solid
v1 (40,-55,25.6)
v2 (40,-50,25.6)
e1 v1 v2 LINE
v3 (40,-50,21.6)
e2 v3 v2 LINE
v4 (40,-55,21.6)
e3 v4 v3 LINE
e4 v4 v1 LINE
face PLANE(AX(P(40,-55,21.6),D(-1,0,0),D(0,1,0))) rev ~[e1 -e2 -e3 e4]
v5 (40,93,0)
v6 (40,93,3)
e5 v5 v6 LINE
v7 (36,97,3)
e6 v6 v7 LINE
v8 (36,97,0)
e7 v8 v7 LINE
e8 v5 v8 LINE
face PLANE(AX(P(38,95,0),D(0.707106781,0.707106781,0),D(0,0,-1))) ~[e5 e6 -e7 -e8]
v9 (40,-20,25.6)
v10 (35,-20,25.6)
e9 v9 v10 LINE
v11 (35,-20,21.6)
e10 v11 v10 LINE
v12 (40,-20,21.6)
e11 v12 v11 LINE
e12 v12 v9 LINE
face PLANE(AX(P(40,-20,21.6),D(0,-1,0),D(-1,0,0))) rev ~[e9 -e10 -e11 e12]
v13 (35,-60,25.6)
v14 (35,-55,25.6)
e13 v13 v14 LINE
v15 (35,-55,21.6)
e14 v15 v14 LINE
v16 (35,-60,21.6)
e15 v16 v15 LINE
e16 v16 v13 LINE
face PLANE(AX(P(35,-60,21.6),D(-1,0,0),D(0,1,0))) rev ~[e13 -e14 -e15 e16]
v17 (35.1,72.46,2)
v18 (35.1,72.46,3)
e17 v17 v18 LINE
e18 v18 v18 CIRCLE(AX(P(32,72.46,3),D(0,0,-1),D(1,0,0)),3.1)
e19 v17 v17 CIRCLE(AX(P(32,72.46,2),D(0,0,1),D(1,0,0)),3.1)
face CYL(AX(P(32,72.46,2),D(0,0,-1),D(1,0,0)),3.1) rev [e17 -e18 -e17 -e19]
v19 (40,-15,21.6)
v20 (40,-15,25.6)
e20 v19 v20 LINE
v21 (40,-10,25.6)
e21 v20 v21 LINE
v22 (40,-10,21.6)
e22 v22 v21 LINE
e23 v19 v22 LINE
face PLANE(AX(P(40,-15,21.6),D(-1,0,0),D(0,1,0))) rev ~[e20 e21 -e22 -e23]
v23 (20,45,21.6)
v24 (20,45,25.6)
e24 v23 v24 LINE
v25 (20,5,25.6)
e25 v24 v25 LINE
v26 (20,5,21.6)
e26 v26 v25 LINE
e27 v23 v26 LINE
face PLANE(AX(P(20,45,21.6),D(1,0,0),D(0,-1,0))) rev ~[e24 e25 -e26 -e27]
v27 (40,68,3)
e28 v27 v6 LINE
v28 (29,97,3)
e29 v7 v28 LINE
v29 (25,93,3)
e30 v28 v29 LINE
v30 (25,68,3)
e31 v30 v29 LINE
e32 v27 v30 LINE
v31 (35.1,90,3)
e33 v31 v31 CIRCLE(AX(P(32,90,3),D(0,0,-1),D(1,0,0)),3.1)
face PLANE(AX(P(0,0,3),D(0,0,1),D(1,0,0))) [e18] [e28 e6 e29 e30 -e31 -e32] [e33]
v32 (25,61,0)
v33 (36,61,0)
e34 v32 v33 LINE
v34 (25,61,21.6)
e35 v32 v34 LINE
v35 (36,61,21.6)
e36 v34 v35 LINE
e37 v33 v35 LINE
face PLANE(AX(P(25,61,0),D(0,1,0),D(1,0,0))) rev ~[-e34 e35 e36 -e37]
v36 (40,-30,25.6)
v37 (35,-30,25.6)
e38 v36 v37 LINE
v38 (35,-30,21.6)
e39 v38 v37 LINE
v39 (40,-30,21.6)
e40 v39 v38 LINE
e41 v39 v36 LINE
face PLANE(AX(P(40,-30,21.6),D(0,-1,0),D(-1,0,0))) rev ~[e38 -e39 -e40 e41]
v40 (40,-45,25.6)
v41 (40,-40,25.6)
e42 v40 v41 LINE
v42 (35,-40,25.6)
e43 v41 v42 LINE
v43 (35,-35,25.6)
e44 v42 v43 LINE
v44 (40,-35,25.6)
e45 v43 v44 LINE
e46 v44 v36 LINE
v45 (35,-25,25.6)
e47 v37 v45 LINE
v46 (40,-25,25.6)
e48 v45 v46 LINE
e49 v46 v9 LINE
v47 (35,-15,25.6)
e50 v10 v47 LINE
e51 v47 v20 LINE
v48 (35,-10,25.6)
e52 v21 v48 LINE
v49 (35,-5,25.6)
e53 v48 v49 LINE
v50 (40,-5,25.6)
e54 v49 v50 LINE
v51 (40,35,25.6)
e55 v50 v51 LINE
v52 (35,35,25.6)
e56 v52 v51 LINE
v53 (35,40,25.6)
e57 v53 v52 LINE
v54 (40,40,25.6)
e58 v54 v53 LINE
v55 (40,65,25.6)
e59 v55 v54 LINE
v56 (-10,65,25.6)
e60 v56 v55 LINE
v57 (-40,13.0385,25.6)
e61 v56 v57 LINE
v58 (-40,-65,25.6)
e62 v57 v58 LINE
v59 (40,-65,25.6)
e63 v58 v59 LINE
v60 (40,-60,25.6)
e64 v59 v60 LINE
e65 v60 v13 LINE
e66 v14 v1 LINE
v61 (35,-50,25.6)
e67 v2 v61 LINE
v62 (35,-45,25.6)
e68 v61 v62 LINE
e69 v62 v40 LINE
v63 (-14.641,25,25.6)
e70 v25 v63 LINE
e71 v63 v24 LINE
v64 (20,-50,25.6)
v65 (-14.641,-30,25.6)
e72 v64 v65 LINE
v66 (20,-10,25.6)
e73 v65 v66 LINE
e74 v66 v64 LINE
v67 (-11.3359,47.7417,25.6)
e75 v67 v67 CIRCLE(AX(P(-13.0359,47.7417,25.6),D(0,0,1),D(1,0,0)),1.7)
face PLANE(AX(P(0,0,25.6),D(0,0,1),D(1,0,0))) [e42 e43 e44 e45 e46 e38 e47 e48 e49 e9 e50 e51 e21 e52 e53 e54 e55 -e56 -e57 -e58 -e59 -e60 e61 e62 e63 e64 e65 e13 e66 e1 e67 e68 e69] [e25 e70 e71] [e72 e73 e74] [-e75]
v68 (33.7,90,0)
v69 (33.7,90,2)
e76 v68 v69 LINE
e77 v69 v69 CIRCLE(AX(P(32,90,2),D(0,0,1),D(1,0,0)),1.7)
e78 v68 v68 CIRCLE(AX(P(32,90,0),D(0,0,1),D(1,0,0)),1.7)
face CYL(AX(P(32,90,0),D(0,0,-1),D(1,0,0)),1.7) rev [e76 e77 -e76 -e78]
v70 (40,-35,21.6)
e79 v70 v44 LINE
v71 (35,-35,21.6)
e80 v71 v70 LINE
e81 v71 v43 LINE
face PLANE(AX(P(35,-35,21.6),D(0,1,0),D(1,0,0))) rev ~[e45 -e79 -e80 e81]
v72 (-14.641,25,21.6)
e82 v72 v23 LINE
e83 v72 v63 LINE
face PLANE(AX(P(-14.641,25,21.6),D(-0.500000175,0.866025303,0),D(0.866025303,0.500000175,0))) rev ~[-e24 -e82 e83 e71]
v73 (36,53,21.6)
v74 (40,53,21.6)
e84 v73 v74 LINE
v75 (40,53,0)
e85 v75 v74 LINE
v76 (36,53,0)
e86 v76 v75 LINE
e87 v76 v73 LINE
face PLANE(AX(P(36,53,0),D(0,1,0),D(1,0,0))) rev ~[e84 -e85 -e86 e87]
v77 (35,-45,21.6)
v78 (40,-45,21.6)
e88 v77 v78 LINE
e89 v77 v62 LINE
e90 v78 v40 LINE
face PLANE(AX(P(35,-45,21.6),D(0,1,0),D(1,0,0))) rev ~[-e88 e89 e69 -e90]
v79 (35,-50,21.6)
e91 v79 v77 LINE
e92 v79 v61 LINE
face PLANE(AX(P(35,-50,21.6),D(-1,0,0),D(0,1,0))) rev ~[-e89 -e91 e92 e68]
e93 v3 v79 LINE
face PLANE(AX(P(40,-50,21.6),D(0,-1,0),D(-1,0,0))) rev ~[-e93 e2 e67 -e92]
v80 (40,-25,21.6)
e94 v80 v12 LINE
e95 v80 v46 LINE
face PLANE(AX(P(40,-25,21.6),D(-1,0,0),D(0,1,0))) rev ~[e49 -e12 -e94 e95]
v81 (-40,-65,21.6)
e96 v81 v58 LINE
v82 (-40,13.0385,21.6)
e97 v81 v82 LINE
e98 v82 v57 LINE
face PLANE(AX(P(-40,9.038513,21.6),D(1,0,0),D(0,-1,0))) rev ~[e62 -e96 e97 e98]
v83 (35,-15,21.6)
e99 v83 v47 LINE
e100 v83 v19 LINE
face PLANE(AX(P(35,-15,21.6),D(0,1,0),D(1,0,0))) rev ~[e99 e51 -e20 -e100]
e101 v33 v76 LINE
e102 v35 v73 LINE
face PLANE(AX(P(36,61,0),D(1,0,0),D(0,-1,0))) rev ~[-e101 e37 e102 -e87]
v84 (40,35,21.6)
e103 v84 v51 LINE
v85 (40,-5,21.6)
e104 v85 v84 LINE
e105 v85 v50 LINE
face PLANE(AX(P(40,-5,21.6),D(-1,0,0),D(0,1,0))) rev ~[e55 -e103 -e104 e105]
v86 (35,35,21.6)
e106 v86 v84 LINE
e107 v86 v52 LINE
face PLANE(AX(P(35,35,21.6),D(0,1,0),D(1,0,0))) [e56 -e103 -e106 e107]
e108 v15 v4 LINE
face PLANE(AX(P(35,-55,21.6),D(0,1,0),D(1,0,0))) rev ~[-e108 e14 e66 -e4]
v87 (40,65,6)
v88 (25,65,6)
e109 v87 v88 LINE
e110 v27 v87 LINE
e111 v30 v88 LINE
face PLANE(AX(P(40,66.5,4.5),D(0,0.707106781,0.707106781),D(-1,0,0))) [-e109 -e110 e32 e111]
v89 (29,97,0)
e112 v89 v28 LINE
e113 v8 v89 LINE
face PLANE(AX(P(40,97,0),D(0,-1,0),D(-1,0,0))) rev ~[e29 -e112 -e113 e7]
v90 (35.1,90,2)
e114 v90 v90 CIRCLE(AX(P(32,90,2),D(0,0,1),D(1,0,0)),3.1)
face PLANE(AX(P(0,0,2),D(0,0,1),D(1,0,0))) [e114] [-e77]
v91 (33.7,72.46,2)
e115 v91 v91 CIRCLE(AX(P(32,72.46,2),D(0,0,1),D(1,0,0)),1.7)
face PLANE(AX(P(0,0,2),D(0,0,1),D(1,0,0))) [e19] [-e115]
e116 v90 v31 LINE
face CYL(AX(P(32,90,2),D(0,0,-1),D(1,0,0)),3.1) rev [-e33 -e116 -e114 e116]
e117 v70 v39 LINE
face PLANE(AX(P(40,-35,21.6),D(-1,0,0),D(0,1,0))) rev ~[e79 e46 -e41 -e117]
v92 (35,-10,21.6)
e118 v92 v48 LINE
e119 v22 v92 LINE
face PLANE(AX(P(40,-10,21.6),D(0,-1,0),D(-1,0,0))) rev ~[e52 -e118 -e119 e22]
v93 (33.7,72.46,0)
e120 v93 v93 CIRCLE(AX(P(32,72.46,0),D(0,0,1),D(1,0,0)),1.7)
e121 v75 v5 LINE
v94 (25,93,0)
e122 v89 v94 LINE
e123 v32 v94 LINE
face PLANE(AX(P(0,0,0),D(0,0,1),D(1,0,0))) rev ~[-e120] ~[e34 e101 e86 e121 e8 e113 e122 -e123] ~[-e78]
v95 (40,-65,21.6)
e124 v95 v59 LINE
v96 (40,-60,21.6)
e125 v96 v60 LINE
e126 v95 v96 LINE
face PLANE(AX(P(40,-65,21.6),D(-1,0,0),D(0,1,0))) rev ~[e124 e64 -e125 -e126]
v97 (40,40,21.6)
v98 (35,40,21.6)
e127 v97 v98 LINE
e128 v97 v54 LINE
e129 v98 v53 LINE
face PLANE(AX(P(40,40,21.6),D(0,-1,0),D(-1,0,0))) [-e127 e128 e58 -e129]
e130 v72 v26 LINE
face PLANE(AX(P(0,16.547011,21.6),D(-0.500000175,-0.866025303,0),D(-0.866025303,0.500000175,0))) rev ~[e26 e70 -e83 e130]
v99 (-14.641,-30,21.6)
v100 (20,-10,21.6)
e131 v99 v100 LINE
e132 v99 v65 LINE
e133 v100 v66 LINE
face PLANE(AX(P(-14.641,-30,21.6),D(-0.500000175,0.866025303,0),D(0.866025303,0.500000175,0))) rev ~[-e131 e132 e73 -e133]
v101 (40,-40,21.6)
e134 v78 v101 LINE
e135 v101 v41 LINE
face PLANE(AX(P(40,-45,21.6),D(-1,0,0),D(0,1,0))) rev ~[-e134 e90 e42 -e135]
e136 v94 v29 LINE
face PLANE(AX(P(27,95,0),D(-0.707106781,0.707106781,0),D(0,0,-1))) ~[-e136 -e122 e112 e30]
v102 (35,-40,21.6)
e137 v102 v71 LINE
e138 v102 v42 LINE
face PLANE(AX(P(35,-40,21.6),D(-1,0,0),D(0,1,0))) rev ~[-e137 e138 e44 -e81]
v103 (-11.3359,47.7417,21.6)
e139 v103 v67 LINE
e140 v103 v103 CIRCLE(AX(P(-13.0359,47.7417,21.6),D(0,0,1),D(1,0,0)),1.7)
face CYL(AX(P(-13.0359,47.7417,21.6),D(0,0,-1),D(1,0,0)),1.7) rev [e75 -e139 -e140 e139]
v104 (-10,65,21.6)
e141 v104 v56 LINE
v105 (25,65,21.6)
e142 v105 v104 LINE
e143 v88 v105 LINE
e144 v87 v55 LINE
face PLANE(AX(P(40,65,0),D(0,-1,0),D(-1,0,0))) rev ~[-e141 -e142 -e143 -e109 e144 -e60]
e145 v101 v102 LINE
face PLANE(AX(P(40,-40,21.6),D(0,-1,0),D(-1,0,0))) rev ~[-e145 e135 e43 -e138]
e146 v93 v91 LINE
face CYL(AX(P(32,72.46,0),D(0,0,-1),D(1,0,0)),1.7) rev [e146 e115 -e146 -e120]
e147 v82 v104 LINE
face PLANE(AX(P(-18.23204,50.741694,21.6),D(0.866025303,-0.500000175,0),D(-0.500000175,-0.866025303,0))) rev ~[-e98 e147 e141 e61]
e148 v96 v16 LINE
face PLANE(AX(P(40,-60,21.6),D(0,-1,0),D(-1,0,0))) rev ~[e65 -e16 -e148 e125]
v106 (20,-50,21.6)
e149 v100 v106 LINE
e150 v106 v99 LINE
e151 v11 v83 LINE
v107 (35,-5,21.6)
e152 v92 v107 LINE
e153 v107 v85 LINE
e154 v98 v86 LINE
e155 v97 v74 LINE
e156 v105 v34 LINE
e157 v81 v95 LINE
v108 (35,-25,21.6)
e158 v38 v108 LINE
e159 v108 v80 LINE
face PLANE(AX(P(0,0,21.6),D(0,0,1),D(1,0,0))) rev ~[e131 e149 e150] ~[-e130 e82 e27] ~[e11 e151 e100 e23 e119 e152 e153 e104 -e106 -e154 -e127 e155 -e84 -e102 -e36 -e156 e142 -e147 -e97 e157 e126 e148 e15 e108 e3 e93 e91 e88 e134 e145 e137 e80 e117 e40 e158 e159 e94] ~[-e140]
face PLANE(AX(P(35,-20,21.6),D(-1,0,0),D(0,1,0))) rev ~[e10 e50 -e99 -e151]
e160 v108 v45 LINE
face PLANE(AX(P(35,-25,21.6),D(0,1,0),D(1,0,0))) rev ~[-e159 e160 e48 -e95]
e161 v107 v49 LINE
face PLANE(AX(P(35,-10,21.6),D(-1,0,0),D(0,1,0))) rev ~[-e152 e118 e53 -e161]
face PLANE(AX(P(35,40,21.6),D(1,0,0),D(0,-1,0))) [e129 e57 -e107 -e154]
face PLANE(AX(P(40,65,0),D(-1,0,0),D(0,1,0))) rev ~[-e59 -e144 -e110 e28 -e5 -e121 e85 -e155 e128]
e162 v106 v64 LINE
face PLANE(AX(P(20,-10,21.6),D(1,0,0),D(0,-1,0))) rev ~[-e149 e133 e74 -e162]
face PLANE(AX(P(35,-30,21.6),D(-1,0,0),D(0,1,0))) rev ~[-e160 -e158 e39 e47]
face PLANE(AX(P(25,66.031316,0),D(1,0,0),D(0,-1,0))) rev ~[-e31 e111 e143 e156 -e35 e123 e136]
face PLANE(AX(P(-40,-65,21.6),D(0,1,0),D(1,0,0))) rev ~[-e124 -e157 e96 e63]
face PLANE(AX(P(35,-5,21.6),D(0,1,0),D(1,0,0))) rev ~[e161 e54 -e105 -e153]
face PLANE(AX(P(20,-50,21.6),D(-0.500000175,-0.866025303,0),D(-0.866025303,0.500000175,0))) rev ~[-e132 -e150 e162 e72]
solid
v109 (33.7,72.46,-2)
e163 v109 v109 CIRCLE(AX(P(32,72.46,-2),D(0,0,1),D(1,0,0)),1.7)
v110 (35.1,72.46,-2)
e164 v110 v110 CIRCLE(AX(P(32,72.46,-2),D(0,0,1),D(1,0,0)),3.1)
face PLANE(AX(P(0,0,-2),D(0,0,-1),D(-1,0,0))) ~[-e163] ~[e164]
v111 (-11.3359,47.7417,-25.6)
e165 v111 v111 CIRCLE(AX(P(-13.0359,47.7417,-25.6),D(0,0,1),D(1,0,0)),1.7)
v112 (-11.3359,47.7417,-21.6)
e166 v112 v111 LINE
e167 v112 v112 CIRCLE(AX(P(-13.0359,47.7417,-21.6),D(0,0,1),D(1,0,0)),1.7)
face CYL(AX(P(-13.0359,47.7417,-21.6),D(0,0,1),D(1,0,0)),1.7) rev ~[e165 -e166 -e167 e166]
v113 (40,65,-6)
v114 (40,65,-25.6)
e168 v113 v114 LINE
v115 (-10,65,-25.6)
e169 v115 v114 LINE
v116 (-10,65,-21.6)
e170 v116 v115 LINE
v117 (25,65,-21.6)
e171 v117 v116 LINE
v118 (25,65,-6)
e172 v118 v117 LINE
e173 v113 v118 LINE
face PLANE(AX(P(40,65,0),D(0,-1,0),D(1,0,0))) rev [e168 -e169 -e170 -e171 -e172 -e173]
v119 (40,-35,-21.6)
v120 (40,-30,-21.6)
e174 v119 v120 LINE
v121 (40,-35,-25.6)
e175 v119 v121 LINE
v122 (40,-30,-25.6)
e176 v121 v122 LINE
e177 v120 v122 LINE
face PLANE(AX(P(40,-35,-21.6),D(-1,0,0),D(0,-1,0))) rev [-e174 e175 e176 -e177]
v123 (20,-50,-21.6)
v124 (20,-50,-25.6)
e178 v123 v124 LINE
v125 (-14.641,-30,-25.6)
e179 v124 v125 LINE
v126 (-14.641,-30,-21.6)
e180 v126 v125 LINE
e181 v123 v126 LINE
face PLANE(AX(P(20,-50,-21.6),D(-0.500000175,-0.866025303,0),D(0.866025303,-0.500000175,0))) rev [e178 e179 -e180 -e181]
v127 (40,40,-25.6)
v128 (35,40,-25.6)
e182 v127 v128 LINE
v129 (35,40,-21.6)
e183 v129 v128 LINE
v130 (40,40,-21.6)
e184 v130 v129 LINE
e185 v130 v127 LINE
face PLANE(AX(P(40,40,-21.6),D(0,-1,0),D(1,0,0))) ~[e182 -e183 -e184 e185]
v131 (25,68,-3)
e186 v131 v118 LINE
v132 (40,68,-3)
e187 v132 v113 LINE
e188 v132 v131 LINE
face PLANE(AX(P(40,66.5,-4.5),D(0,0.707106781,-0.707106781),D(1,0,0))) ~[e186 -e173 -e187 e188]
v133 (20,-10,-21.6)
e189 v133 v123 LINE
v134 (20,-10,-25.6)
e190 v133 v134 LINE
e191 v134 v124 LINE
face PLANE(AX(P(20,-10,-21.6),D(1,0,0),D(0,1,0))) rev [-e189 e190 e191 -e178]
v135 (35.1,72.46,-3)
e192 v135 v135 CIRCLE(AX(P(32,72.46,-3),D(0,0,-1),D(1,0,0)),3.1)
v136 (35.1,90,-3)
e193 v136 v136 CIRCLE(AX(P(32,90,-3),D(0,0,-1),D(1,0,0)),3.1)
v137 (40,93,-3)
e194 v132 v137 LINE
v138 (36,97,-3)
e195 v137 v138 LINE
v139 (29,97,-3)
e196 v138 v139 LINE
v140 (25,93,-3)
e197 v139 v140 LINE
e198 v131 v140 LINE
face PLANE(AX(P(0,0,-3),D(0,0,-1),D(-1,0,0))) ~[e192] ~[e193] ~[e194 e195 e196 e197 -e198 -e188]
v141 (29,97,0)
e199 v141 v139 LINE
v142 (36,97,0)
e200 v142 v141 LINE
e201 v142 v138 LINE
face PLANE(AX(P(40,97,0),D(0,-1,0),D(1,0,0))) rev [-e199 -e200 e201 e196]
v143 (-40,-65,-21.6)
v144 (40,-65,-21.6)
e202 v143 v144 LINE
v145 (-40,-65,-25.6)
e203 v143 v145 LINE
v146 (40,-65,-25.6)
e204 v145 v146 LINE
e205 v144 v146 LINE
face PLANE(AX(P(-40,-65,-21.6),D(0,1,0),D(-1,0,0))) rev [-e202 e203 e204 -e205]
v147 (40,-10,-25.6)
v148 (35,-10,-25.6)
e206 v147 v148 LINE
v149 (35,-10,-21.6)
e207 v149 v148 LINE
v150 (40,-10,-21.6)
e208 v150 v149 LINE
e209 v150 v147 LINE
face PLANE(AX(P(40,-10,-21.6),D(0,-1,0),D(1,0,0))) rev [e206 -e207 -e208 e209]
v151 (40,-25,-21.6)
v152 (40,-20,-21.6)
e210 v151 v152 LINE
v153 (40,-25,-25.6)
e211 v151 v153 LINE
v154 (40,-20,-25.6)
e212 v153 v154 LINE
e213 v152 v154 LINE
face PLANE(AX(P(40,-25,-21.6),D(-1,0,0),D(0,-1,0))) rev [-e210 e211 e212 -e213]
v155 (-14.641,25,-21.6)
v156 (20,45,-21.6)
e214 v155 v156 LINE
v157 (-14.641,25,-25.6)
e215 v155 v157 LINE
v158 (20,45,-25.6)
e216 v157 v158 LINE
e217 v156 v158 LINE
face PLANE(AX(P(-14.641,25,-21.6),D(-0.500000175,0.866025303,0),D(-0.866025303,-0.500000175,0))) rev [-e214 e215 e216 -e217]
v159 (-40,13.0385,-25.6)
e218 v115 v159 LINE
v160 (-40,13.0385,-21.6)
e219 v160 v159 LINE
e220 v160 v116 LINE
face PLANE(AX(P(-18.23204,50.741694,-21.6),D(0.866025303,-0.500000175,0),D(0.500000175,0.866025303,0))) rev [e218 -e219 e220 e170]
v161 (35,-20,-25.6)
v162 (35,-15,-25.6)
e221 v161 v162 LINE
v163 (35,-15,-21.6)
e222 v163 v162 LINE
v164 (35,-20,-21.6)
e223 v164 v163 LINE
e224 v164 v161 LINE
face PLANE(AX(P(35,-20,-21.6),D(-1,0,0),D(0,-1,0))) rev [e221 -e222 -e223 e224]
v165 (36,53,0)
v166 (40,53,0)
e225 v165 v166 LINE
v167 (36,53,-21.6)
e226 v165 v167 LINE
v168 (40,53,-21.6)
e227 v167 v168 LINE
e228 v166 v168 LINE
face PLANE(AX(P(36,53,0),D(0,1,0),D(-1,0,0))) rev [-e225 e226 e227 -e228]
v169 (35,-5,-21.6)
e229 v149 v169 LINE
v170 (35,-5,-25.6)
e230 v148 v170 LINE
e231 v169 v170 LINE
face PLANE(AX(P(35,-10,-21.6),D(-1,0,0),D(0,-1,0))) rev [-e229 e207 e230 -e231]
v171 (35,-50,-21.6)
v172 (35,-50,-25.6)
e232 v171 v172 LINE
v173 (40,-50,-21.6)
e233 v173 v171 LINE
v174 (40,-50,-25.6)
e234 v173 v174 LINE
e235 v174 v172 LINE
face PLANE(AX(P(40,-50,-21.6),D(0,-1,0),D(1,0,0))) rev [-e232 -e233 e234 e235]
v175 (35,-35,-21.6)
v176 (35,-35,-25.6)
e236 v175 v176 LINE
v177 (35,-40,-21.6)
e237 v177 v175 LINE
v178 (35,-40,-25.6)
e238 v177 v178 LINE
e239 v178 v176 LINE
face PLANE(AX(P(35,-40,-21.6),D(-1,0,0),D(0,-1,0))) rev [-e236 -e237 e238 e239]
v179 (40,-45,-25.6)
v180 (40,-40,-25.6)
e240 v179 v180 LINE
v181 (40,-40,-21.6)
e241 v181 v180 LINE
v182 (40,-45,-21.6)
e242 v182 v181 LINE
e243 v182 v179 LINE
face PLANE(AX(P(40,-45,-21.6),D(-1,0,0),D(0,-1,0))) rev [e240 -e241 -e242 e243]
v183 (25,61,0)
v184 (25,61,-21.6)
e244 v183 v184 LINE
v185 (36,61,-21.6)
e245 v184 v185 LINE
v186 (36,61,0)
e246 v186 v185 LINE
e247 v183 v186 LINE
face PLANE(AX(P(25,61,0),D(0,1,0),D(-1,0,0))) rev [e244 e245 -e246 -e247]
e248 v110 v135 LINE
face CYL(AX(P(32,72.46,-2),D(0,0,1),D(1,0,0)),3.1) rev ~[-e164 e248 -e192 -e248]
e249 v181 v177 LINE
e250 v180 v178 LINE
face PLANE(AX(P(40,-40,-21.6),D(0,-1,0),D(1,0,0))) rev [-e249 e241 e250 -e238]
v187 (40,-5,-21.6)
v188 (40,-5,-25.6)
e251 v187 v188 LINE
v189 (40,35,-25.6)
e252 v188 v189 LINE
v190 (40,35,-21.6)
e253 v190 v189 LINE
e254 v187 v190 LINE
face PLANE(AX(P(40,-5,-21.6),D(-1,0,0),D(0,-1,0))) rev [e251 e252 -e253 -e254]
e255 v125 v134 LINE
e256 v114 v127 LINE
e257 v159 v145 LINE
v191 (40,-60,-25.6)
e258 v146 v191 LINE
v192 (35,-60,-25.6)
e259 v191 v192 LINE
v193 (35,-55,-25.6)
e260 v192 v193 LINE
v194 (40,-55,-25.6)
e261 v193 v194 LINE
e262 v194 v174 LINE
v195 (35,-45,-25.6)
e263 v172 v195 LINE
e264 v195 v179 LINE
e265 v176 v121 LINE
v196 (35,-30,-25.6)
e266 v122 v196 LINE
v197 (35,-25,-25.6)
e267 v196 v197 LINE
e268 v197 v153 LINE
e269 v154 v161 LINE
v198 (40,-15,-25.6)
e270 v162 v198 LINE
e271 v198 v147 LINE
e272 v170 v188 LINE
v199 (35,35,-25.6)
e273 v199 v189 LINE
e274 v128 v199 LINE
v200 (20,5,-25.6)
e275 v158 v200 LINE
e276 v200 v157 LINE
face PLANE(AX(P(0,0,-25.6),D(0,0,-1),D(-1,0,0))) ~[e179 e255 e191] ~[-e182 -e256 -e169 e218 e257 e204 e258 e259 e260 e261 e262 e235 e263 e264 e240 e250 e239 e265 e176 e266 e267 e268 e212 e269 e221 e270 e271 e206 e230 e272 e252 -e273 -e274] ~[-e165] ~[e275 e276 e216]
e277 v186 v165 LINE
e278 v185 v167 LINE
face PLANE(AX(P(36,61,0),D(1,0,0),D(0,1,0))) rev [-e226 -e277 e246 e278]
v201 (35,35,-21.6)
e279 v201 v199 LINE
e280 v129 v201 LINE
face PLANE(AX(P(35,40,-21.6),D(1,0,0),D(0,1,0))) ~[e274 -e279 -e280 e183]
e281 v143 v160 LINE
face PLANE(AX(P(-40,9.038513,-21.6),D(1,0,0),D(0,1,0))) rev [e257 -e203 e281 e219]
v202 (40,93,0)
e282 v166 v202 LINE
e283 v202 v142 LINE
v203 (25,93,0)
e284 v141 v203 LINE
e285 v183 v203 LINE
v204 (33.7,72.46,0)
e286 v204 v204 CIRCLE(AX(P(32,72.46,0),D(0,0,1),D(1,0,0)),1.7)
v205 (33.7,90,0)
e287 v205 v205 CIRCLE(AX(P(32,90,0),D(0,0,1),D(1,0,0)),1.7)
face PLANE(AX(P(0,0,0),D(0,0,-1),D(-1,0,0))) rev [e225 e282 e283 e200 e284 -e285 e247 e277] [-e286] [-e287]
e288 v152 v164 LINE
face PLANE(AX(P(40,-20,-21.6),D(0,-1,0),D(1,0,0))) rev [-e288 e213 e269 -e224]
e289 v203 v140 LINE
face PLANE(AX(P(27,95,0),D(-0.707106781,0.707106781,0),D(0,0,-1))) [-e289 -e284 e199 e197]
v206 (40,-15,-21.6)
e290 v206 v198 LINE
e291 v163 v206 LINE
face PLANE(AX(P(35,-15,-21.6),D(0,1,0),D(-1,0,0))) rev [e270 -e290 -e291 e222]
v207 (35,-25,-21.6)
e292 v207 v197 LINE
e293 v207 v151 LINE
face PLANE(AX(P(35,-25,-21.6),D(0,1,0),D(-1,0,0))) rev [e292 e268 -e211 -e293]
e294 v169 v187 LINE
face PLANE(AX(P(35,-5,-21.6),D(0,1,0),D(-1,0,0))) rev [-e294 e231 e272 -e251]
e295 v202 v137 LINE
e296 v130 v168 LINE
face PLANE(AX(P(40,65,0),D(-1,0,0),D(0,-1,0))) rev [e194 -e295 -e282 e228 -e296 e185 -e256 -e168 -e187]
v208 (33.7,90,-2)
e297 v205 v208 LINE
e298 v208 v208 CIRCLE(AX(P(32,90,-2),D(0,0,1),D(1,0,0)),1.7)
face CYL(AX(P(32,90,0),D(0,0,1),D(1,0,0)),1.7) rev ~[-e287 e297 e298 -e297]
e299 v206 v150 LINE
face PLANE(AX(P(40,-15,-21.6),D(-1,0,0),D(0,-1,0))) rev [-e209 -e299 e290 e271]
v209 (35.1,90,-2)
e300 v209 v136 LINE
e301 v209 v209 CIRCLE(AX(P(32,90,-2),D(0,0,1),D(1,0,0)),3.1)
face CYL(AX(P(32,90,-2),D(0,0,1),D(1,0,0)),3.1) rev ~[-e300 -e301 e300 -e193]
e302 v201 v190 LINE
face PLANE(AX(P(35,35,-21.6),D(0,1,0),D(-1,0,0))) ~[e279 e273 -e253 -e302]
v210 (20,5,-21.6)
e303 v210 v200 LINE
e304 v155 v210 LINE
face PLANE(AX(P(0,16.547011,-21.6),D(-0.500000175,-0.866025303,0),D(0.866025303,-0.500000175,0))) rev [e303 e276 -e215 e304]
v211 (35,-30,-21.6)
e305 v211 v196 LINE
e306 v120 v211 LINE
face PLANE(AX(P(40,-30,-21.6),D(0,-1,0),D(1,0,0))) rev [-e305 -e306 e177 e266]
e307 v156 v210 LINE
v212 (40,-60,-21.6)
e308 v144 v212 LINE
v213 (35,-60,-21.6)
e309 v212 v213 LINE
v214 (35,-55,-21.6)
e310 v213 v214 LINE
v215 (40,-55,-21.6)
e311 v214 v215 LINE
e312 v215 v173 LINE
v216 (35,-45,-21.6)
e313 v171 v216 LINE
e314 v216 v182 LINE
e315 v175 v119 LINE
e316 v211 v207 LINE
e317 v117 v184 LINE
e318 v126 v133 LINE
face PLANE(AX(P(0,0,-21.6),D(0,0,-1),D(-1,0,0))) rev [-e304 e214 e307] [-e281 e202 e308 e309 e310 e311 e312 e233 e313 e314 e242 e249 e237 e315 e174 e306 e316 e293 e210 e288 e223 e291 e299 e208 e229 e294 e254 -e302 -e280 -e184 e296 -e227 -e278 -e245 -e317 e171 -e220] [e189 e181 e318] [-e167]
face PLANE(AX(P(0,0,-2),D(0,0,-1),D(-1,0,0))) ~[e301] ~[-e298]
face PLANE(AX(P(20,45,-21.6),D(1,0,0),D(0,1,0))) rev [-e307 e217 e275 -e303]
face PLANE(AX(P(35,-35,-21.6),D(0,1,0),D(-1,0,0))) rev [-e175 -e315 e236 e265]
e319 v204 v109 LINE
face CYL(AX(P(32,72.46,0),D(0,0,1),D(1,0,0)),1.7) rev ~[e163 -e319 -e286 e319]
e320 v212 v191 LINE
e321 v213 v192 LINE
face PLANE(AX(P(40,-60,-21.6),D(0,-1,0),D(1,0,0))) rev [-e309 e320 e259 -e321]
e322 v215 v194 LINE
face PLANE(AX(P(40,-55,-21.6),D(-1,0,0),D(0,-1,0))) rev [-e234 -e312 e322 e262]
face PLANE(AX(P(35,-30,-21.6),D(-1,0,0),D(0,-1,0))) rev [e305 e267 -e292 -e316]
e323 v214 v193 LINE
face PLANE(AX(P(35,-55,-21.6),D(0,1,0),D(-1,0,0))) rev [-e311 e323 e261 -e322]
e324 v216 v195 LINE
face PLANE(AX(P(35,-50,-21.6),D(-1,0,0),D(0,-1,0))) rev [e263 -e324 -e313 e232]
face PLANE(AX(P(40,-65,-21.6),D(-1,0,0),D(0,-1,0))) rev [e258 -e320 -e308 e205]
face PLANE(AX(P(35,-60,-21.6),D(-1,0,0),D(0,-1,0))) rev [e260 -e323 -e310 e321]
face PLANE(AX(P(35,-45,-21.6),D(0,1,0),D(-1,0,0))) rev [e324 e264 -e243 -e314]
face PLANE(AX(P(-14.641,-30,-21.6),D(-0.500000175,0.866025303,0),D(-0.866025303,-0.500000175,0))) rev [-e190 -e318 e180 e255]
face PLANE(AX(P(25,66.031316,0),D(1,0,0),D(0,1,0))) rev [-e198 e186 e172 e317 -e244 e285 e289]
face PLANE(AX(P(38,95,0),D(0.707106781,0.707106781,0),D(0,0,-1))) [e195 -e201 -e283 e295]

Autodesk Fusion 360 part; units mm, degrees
sketch "Sketch1" plane through (0, 0, 0) normal (0, 0, 1) x (1, 0, 0)
  line L0 (40, 65) -> (-40, 65)
  line L1 (-40, 65) -> (-40, -65)
  line L2 (-40, -65) -> (40, -65)
  line L3 (40, -65) -> (40, 65)
  line L4 (40, 65) -> (-40, -65) construction
  line L5 (-40, 65) -> (40, -65) construction
  circle A0 centre (-13.0359, 47.7417) radius 1.7
  line L6 (-16.5, 49.7417) -> (4, 85.2487)
  line L7 (4, 85.2487) -> (0.5359, 87.2487)
  line L8 (0.5359, 87.2487) -> (-19.9641, 51.7417)
  line L9 (-19.9641, 51.7417) -> (-16.5, 49.7417)
  line L10 (-19.9641, 51.7417) -> (-69.4641, -33.9948)
  line L11 (-16.5, 49.7417) -> (-66, -35.9948)
  line L12 (-66, -35.9948) -> (-69.4641, -33.9948)
  circle A1 centre (12, 81.23) radius 20
  circle A2 centre (12, 81.23) radius 8
  line L13 (4, 85.2487) -> (4, 65)
  line L14 (-40, 61) -> (40, 61)
  circle A3 centre (32, 90) radius 1.7
  circle A4 centre (32, 72.46) radius 1.7
  line L15 (40, 65) -> (40, 97)
  line L16 (40, 97) -> (25, 97)
  line L17 (25, 97) -> (25, 65)
  circle A5 centre (32, 90) radius 3.1
  circle A6 centre (32, 72.46) radius 3.1
  line L18 (0, 2.5) -> (0, 20)
  line L19 (-10, 65) -> (-40, 13.0385)
  line L20 (20, -10) -> (20, -50)
  line L21 (20, -50) -> (-14.641, -30)
  line L22 (-14.641, -30) -> (20, -10)
  line L23 (-14.641, 25) -> (20, 45)
  line L24 (20, 5) -> (-14.641, 25)
  line L25 (20, 45) -> (20, 5)
  line L26 (25, 65) -> (25, 61)
  line L27 (40, 61) -> (36, 61)
  line L28 (36, 61) -> (36, 53)
  line L29 (36, 53) -> (40, 53)
  line L30 (40, 53) -> (40, 61)
  line L31 (40, 40) -> (35, 40)
  line L32 (35, 40) -> (35, 35)
  line L33 (35, 35) -> (40, 35)
  line L34 (40, 35) -> (40, 40)
  line L35 (35, -55) -> (40, -55)
  line L36 (40, -55) -> (40, -60)
  line L37 (40, -60) -> (35, -60)
  line L38 (35, -60) -> (35, -55)
  line L39 (35, -45) -> (40, -45)
  line L40 (35, -50) -> (35, -45)
  line L41 (40, -50) -> (35, -50)
  line L42 (35, -35) -> (40, -35)
  line L43 (35, -40) -> (35, -35)
  line L44 (40, -40) -> (35, -40)
  line L45 (35, -25) -> (40, -25)
  line L46 (35, -30) -> (35, -25)
  line L47 (40, -30) -> (35, -30)
  line L48 (35, -15) -> (40, -15)
  line L49 (35, -20) -> (35, -15)
  line L50 (40, -20) -> (35, -20)
  line L51 (35, -5) -> (40, -5)
  line L52 (35, -10) -> (35, -5)
  line L53 (40, -10) -> (35, -10)
  dimension "d1" = 80
  dimension "d2" = 130
  dimension "d5" = 3.4
  dimension "d8" = 41
  dimension "d9" = 4
  dimension "d10" = 4
  dimension "d13" = 99
  dimension "d14" = 40
  dimension "d15" = 16
  dimension "d17" = 8
  dimension "d18" = 4
  dimension "d19" = 3.4
  dimension "d20" = 3.4
  dimension "d21" = 17.54
  dimension "d22" = 8.77
  dimension "d23" = 20
  dimension "d24" = 8
  dimension "d25" = 15
  dimension "d26" = 32
  dimension "d29" = 6.2
  dimension "d30" = 6.2
  dimension "d42" = 30
  dimension "d43" = 40
  dimension "d44" = 2
  dimension "d45" = 30
  dimension "d54" = 60
  dimension "d55" = 60
  dimension "d56" = 40
  dimension "d57" = 15
  dimension "d58" = 20
  dimension "d59" = 60
  dimension "d60" = 60
  dimension "d61" = 40
  dimension "d62" = 15
  dimension "d63" = 20
  dimension "d64" = 7
  dimension "d65" = 4
  dimension "d66" = 8
  dimension "d67" = 5
  dimension "d68" = 21
  dimension "d69" = 5
  dimension "d71" = 5
  dimension "d72" = 5
  dimension "d73" = 5
  dimension "d76" = 0
  dimension "d77" = 10
extrude "Extrude1" add sketch "Sketch1" along normal blind 3 contours L0 A1 L15 L16 L17 A5 A6 | A1 L17 A5 A6 | A1 A6 | A1 A6 | A1 A5 | A1 A5 makes body 1
extrude "Extrude2" cut sketch "Sketch1" along normal blind 5 and the other way blind -2 contours A1 A6 | A1 A6 | A1 A5 | A1 A5 bodies 1
extrude "Extrude3" add sketch "Sketch1" along normal blind 25.6 contours L0 L3 L14 L26 L27 | L3 L14 L27 L28 L29 L30 bodies 1
extrude "Extrude4" add sketch "Sketch1" along normal blind 25.6 and the other way blind -21.6 contours L0 L3 L14 L26 L27 | L0 L6 A1 L14 L26 | L3 L14 L27 L28 L29 L30 | L0 A1 | L1 L2 L3 L6 L11 L14 L28 L29 L31 L32 L33 L35 L37 L38 L39 L40 L41 L42 L43 L44 L45 L46 L47 L48 L49 L50 L51 L52 L53 | L0 L6 L14 L19 | L6 L9 L14 L19 | L1 L9 L11 L19 bodies 1
chamfer "Chamfer1" distance 4 angle 45 2 edges at (40, 97, 1.5) (25, 97, 1.5) on bodies 1
chamfer "Chamfer1" distance 3 angle 45 1 edges at (32.5, 65, 3) on bodies 1
mirror "Mirror1" about plane through (0, 0, 0) normal (0, 0, 1) of bodies 1 makes body 2
equation "d17 = d15 / 2"
equation "d21 = ( ( 14.38 + 20.7 ) / 2 ) * 1 mm"
equation "d22 = d21 / 2"
equation "d35 = ( ( 60 + 2 - 18.8 ) / 2 ) * 1 mm + 4 mm"
equation "d39 = -25.6 mm + 4 mm"
equation "d43 = d1 / 2"
equation "d55 = d54"
equation "d60 = d54"
equation "d62 = d57"
equation "d63 = d58"
